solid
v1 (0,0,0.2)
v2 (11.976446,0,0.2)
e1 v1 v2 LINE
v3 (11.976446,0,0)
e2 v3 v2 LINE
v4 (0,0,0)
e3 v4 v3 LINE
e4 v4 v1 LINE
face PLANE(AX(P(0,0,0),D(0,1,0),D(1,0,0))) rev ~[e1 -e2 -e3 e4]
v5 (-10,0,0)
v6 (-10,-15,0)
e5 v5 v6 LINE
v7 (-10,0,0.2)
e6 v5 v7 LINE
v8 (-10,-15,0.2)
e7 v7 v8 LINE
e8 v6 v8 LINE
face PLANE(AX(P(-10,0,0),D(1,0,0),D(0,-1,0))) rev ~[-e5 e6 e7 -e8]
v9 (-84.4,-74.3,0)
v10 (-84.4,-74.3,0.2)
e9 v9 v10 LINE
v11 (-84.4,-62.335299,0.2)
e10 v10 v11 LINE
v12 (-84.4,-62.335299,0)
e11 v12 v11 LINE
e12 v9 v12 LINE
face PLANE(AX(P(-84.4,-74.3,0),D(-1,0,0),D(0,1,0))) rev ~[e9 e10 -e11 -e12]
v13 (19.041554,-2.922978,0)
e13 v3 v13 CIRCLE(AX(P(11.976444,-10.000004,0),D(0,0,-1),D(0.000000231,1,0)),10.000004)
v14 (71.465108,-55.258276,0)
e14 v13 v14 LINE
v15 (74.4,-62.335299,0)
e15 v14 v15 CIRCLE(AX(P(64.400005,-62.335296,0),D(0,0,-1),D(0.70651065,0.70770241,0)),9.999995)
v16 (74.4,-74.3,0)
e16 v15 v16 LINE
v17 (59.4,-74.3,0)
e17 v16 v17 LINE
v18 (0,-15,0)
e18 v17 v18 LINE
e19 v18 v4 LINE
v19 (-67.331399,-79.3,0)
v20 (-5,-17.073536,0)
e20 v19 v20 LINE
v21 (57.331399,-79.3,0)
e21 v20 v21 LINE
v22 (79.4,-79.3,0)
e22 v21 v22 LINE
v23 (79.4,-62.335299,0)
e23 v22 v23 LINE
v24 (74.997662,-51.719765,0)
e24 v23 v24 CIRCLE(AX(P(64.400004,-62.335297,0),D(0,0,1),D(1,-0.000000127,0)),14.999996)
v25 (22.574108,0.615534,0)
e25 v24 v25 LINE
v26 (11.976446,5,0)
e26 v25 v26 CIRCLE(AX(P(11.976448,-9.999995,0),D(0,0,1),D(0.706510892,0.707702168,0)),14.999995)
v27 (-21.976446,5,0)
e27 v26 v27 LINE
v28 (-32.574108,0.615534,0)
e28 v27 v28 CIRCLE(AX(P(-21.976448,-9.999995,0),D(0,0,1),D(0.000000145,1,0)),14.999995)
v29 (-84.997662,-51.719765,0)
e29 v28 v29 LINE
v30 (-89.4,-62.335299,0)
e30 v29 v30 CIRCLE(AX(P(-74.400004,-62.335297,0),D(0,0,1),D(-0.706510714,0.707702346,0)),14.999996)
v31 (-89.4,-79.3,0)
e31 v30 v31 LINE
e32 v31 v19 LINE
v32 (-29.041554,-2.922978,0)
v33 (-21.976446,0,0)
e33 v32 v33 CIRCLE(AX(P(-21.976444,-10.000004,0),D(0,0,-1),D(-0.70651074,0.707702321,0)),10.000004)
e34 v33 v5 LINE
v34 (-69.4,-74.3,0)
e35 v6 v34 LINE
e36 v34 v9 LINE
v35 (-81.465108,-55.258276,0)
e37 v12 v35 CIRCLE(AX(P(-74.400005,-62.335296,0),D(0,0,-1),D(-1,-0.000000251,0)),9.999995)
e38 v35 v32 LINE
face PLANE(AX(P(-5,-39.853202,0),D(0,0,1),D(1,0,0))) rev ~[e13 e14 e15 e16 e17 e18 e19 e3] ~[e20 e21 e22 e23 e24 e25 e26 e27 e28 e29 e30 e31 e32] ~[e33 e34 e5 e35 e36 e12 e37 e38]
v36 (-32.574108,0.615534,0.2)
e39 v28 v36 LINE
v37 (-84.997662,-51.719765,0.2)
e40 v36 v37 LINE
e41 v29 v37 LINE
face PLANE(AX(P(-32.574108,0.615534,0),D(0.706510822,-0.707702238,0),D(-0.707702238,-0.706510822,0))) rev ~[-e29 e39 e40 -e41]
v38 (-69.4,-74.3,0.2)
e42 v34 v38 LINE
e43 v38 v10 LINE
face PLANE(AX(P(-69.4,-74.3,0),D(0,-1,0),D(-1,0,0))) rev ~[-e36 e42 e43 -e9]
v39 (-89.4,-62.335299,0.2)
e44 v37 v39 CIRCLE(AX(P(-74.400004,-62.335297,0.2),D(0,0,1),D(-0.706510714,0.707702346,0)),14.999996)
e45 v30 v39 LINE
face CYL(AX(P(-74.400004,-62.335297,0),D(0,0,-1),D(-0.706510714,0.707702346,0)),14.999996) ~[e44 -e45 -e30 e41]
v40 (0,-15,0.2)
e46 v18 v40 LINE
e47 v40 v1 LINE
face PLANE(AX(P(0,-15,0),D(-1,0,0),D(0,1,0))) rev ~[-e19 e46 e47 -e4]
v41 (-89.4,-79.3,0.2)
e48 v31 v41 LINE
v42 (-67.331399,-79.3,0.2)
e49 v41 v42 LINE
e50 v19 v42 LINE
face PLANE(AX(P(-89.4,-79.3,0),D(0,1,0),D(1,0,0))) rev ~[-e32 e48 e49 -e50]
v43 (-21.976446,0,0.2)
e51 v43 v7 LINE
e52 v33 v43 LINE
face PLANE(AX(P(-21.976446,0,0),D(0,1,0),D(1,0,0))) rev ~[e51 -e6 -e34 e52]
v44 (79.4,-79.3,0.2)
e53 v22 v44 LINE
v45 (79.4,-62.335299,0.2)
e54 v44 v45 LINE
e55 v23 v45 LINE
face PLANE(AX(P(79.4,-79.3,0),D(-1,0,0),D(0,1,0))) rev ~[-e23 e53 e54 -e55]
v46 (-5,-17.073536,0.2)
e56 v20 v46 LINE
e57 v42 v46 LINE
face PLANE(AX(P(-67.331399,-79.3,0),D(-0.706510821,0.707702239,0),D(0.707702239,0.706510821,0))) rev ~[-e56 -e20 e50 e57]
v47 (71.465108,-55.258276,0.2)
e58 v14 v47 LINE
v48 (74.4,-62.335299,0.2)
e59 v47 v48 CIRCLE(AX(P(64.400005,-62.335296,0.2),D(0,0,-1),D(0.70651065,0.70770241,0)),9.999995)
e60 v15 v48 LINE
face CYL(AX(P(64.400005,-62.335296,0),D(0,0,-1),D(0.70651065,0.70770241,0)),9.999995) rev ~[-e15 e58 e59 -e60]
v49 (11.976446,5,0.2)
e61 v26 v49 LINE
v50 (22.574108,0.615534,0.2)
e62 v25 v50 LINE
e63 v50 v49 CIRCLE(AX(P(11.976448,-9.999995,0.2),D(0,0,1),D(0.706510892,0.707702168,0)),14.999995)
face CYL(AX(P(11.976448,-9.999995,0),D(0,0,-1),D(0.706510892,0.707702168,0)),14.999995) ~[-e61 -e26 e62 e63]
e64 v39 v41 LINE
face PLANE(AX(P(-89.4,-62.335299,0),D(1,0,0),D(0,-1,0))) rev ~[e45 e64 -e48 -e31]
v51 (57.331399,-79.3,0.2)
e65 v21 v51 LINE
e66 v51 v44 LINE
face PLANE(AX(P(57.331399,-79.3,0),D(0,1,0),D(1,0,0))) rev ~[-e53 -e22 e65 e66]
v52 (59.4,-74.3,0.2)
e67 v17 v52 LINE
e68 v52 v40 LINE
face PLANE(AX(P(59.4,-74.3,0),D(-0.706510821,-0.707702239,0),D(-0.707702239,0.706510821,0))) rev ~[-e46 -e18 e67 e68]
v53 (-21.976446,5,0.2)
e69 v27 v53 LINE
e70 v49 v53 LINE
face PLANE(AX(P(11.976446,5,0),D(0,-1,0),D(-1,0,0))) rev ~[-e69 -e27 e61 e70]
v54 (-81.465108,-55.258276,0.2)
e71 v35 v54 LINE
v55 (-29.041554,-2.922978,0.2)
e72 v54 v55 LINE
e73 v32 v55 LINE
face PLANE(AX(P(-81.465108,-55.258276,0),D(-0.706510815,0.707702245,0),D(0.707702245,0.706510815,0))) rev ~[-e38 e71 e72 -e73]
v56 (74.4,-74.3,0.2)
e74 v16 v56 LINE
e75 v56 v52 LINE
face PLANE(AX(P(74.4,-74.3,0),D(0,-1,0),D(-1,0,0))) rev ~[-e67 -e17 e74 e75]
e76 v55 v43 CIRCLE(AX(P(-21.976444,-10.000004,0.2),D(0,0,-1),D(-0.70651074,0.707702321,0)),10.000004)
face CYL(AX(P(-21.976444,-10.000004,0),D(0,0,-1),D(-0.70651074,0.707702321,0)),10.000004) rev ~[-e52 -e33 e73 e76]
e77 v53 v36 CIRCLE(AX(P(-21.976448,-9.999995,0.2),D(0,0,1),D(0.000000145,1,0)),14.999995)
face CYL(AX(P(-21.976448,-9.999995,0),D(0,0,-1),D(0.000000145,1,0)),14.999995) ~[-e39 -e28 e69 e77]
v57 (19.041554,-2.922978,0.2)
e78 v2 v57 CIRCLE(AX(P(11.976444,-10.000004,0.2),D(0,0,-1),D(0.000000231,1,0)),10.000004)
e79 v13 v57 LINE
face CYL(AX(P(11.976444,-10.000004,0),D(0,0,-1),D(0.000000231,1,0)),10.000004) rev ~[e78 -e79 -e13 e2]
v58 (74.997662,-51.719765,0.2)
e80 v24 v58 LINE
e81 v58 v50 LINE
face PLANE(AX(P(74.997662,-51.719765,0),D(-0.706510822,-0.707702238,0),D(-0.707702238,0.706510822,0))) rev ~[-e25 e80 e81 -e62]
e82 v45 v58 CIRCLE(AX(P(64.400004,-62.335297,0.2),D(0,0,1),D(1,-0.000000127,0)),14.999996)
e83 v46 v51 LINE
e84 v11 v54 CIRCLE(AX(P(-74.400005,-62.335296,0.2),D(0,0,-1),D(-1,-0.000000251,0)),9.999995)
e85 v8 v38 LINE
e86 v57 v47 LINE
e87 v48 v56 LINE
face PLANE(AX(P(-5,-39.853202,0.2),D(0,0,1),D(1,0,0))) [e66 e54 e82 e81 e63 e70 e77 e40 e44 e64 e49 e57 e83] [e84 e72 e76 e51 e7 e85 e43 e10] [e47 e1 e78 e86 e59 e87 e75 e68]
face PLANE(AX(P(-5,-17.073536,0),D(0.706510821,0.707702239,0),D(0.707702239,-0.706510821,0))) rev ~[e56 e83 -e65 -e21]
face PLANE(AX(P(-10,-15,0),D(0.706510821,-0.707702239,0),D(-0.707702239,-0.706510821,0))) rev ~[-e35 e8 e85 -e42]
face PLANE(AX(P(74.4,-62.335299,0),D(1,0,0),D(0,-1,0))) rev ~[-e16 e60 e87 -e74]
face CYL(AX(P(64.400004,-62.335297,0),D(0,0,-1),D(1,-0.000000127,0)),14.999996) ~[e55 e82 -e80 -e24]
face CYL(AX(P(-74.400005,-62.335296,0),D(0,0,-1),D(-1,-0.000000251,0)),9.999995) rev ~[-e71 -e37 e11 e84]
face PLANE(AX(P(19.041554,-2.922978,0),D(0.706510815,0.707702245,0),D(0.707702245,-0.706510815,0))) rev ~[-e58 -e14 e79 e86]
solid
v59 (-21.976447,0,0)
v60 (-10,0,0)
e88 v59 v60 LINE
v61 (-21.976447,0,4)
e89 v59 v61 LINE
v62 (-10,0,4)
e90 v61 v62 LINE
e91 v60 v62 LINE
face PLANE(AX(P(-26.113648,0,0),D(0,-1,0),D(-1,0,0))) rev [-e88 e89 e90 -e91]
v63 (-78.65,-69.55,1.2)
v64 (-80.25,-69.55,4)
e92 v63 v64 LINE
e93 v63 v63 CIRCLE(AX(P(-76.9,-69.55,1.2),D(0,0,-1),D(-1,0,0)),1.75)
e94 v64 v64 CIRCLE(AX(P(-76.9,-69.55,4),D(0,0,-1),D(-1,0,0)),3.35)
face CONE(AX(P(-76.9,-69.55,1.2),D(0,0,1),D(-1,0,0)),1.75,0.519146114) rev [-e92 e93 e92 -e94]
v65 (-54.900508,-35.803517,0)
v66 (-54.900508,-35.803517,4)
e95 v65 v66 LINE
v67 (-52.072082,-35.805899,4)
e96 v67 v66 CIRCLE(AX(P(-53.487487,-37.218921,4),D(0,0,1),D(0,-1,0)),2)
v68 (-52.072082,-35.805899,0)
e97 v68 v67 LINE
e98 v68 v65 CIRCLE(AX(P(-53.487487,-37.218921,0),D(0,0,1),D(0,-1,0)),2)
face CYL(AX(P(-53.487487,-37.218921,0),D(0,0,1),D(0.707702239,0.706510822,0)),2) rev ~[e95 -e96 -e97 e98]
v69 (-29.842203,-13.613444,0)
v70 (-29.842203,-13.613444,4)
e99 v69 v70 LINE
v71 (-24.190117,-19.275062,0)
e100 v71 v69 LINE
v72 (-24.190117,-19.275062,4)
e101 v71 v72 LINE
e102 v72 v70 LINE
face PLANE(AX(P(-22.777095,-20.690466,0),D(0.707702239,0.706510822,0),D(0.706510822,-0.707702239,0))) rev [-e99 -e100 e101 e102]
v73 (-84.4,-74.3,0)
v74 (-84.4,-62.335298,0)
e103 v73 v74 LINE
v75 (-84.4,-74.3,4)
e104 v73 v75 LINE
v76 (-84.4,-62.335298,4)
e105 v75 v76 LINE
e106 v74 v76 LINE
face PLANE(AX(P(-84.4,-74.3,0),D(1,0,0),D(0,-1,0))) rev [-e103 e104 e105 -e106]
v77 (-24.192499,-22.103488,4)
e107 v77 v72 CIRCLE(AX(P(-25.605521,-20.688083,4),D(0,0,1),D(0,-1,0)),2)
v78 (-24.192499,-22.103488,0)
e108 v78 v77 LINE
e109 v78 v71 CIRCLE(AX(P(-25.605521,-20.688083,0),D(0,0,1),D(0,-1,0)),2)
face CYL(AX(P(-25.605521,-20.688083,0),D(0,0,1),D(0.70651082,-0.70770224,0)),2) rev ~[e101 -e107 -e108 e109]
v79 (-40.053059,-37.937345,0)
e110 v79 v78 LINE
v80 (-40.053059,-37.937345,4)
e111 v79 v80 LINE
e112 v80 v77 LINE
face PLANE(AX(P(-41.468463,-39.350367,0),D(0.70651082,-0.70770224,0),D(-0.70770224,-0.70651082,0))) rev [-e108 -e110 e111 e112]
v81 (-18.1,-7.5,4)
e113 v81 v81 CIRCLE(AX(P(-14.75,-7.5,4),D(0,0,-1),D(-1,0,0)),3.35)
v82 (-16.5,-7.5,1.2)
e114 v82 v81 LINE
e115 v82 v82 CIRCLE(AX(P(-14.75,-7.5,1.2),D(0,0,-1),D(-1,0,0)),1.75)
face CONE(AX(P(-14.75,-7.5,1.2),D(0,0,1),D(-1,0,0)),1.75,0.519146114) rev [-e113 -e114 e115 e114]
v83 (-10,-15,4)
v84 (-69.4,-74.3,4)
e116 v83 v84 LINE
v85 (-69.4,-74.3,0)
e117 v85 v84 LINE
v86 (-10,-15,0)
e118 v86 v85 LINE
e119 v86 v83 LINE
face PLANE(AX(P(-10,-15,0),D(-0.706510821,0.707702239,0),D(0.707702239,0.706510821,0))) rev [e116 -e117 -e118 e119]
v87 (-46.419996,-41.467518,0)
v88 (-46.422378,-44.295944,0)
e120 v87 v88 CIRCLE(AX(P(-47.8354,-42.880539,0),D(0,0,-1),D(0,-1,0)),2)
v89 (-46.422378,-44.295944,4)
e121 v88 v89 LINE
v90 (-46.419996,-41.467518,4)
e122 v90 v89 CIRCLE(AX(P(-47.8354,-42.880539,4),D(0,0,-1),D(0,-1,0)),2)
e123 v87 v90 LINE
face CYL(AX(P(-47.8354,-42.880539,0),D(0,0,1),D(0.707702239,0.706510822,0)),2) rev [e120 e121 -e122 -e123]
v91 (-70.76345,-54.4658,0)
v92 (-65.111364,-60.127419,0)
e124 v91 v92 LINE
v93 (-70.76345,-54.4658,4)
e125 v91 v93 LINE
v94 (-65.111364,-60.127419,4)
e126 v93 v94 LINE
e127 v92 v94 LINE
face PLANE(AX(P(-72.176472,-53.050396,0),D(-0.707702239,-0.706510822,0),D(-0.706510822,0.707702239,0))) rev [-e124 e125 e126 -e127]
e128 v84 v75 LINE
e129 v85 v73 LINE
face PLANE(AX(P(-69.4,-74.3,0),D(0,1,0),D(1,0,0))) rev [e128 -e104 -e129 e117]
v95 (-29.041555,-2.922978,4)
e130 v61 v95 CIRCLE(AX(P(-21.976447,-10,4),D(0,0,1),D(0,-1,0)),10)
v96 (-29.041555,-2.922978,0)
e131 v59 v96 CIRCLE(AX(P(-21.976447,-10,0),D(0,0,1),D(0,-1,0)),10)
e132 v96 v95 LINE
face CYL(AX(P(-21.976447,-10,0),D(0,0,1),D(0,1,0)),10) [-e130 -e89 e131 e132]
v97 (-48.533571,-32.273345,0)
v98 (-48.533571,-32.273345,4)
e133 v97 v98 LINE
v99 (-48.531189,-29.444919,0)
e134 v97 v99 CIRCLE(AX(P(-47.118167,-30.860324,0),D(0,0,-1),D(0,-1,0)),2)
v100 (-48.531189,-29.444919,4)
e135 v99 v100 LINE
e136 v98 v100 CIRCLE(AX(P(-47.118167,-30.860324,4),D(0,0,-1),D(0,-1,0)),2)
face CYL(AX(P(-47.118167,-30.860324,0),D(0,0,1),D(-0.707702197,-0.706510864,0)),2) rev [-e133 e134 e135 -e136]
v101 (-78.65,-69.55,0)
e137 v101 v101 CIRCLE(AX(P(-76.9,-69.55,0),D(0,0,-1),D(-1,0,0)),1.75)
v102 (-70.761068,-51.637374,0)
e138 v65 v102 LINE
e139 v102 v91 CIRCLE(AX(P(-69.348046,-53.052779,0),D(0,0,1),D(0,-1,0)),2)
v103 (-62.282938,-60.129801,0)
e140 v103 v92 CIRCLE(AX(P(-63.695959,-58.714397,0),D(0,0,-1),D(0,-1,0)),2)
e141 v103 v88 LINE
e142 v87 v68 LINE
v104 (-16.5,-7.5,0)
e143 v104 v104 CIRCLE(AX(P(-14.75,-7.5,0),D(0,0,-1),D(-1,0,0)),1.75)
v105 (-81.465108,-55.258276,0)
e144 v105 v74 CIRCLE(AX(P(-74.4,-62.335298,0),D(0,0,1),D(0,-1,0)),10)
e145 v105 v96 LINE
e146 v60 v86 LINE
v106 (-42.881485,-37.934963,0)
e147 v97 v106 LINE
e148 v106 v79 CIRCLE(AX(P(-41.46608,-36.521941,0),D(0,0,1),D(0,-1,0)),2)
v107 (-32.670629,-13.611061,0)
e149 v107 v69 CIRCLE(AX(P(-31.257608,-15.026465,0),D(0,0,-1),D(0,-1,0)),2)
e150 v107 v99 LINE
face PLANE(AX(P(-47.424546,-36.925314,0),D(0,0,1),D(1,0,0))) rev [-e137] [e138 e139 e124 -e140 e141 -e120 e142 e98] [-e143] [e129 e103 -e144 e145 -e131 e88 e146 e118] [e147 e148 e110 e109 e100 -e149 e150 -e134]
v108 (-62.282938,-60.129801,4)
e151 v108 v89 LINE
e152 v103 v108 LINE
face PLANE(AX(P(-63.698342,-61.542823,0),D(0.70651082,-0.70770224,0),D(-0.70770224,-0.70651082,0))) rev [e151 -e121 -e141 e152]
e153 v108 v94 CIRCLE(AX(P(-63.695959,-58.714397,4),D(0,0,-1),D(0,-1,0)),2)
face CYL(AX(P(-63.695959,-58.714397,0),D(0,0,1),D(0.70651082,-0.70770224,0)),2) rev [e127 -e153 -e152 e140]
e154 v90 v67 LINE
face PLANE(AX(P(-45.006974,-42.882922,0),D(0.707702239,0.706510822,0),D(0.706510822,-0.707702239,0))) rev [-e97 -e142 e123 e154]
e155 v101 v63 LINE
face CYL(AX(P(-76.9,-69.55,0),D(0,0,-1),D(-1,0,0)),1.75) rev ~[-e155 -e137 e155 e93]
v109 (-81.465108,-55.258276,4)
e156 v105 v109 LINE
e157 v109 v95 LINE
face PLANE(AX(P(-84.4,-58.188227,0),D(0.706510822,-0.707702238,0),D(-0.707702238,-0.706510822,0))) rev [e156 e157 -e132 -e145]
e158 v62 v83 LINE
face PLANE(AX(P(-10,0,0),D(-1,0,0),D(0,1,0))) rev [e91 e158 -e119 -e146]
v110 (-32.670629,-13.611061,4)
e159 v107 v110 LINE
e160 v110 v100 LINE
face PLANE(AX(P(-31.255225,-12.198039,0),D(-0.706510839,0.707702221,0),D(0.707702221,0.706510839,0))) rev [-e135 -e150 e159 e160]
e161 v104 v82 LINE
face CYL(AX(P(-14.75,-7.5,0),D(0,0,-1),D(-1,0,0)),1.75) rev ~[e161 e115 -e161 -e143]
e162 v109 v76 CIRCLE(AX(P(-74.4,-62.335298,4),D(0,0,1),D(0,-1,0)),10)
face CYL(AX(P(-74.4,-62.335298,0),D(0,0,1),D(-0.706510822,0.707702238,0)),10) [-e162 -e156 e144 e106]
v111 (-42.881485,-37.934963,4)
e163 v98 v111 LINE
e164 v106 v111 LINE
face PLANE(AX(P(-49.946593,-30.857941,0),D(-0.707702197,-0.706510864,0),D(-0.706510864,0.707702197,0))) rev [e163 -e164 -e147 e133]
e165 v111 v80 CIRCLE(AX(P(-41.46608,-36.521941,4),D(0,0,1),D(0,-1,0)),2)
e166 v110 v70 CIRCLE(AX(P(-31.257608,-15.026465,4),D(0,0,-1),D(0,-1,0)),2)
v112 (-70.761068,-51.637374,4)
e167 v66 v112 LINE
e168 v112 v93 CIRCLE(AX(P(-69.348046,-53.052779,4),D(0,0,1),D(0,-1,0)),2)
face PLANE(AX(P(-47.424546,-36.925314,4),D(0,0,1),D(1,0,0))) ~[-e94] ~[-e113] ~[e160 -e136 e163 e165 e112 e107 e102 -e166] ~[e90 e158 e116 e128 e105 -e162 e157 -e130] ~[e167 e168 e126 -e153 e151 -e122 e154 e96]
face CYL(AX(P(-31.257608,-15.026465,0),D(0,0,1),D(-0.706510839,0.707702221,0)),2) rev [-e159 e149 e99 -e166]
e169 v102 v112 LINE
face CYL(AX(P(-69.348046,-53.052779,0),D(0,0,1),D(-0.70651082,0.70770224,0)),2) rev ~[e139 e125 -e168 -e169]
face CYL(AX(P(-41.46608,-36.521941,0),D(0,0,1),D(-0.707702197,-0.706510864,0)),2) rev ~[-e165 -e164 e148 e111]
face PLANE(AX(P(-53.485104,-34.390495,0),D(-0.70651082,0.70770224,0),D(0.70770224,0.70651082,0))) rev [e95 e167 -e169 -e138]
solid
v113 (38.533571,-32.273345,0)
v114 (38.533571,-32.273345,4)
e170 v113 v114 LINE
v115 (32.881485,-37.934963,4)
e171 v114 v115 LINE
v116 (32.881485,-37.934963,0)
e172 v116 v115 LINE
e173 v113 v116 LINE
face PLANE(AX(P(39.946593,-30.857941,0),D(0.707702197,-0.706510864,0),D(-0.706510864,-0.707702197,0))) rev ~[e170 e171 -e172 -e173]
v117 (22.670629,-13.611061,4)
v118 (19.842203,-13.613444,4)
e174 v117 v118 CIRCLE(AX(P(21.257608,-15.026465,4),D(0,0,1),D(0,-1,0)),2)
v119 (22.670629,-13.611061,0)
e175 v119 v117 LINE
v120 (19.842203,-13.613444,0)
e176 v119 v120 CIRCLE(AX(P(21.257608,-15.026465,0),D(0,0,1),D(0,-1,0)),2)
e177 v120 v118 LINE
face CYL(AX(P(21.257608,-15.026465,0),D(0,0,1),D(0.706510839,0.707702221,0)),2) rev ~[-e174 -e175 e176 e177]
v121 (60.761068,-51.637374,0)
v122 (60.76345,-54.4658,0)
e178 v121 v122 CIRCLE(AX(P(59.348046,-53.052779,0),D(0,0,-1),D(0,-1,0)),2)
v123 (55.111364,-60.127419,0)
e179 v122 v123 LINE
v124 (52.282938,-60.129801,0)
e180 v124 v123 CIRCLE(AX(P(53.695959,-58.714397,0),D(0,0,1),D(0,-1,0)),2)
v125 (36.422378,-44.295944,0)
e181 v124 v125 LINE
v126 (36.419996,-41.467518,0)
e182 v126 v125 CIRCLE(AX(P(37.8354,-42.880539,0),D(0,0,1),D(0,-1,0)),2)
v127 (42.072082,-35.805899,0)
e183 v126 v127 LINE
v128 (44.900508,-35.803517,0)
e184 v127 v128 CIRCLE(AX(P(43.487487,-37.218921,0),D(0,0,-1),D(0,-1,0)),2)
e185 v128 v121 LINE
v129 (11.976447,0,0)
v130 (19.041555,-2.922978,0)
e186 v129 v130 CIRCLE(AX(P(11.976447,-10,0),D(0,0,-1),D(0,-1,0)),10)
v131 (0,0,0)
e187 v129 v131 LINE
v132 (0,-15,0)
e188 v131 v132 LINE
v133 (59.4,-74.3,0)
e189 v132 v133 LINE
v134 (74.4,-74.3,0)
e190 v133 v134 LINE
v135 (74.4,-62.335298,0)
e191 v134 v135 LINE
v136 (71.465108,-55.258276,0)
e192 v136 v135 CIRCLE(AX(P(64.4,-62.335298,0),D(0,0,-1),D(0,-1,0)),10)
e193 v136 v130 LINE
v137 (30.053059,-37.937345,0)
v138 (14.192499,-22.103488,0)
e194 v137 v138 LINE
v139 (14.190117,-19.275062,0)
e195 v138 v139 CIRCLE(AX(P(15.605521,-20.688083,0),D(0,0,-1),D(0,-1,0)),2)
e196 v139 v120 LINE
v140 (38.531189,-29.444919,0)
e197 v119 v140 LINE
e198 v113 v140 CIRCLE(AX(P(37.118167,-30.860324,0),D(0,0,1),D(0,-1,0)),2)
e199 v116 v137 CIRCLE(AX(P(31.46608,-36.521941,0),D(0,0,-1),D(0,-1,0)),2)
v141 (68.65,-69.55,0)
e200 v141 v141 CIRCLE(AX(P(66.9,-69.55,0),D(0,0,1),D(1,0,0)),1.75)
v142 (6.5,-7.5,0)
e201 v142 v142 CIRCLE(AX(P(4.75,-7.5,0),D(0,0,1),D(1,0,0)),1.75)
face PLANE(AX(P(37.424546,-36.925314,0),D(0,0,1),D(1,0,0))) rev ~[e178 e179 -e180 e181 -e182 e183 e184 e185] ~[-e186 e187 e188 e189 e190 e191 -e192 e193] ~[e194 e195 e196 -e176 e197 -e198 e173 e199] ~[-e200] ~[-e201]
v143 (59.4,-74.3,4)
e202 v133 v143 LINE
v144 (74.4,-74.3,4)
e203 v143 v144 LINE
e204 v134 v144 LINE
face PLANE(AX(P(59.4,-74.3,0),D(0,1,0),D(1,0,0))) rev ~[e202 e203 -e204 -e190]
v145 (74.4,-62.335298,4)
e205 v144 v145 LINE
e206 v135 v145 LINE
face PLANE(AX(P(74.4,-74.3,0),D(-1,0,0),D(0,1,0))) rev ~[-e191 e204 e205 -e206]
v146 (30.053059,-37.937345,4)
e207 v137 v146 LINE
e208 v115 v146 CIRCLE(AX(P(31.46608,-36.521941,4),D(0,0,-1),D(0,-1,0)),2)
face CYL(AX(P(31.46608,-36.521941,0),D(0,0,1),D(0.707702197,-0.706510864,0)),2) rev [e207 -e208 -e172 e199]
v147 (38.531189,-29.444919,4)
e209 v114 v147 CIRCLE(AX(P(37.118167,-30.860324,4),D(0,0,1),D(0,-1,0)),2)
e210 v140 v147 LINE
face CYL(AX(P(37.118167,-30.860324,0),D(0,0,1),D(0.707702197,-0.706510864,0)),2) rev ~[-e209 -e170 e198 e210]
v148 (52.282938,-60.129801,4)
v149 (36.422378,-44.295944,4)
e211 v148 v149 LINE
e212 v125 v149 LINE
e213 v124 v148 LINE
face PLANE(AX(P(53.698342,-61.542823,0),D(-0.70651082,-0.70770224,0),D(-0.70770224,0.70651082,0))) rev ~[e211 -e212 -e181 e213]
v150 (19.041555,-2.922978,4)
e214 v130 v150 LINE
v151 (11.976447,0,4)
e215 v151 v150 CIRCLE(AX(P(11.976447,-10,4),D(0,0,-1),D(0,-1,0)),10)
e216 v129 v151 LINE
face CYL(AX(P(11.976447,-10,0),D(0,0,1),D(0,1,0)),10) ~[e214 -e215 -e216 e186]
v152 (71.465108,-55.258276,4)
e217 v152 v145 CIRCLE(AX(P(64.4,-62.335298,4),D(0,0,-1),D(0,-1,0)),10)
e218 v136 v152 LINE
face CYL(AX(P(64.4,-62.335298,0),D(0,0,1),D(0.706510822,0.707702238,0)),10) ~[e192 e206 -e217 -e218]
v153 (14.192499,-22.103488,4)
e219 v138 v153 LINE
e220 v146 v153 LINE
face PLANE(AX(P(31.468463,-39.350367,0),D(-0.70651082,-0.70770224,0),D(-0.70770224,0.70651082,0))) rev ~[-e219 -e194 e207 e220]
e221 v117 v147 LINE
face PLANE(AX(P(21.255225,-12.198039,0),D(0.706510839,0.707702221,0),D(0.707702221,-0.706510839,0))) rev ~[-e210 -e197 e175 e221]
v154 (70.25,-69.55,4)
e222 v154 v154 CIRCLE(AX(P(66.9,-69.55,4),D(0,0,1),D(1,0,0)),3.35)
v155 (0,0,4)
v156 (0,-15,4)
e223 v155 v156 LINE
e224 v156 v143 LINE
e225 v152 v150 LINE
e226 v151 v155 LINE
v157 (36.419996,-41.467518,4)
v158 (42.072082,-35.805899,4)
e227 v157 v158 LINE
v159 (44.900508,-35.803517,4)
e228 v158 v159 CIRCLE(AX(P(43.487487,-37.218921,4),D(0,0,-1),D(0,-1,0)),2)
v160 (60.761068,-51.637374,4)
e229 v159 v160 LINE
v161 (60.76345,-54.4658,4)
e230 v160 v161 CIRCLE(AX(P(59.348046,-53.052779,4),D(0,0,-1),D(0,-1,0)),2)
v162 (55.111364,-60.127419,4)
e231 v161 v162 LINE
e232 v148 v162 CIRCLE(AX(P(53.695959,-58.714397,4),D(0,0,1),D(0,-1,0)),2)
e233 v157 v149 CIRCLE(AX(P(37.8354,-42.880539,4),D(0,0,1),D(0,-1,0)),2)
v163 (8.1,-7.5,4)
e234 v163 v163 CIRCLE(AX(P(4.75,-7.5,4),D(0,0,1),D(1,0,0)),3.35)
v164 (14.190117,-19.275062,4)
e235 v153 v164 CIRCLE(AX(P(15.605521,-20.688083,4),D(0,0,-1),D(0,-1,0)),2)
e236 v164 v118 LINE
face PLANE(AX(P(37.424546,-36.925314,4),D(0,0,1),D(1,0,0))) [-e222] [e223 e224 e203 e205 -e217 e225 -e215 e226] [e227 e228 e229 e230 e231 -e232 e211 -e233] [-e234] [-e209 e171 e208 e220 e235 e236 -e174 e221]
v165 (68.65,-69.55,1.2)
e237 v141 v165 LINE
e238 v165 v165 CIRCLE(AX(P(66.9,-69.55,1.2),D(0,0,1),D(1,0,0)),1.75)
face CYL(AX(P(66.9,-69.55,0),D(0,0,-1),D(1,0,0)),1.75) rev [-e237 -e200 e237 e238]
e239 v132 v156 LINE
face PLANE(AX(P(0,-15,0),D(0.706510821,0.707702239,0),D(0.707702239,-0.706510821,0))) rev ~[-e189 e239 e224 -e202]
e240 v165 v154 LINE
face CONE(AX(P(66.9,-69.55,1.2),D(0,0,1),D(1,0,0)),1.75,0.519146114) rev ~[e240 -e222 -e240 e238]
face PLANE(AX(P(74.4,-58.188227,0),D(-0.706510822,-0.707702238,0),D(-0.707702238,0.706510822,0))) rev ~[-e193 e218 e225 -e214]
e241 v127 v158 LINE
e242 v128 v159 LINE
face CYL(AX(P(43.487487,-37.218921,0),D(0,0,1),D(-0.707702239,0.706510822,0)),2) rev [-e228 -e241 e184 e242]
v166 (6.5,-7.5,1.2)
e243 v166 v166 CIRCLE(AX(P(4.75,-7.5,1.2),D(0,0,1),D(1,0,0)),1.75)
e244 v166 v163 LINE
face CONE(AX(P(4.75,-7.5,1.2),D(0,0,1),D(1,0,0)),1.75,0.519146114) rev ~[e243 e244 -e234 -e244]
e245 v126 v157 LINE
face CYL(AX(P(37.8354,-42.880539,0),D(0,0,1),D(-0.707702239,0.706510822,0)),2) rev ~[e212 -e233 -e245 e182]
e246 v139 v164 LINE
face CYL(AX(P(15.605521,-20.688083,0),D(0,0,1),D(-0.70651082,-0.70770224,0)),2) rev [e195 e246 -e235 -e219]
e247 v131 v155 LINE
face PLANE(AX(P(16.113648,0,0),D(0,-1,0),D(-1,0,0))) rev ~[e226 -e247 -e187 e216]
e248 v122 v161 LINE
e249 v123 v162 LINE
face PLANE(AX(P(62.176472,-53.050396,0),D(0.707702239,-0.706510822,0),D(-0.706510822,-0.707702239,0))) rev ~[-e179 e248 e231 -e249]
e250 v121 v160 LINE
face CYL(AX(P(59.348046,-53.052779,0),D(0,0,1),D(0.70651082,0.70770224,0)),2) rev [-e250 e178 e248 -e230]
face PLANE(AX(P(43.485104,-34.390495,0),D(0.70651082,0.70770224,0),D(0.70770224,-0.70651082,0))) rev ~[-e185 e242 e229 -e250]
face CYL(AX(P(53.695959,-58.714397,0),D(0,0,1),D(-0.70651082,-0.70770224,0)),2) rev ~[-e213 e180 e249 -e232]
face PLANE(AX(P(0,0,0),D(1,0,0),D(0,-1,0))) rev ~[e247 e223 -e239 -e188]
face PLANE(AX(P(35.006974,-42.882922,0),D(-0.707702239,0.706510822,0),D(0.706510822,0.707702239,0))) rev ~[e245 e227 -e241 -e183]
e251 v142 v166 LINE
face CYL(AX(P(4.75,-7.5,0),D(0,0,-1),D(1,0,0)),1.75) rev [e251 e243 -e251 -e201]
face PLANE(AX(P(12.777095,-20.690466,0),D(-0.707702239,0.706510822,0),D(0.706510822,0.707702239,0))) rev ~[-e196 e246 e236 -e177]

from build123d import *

# Parameters (mm, degrees)
F0_R     = 1.75
F1_DEPTH = 4
F2_R     = 10
F3_R     = 2
F4_SIZE2 = 1.6
F4_SIZE  = 2.8
F8_DEPTH = 0.2


with BuildPart() as f1:
    # F0 (on Top) → F1 (new body)
    with BuildSketch(Plane.XY):
        Polygon((16.113648, 0), (0, 0), (0, -15), (59.4, -74.3), (74.4, -74.3), (74.4, -58.188227), align=None)
        with Locations((66.9, -69.55)):
            Circle(F0_R, mode=Mode.SUBTRACT)
        Polygon((43.485104, -34.390495), (62.176472, -53.050396), (53.698342, -61.542823), (35.006974, -42.882922), align=None, mode=Mode.SUBTRACT)
        Polygon((31.468463, -39.350367), (12.777095, -20.690466), (21.255225, -12.198039), (39.946593, -30.857941), align=None, mode=Mode.SUBTRACT)
        with Locations((4.75, -7.5)):
            Circle(F0_R, mode=Mode.SUBTRACT)
    extrude(amount=F1_DEPTH)

    # F2
    f2_edges = [f1.edges().sort_by_distance(p)[0] for p in [
        (16.113648, 0, 2),
        (74.4, -58.188227, 2),
    ]]
    fillet(f2_edges, radius=F2_R)

    # F3
    f3_edges = [f1.edges().sort_by_distance(p)[0] for p in [
        (21.255225, -12.198039, 2),
        (12.777095, -20.690466, 2),
        (39.946593, -30.857941, 2),
        (31.468463, -39.350367, 2),
        (53.698342, -61.542823, 2),
        (62.176472, -53.050396, 2),
        (43.485104, -34.390495, 2),
        (35.006974, -42.882922, 2),
    ]]
    fillet(f3_edges, radius=F3_R)

    # F4
    f4_edges = [f1.edges().sort_by_distance(p)[0] for p in [
        (3, -7.5, 4),
        (65.15, -69.55, 4),
    ]]
    chamfer(f4_edges, length=F4_SIZE, length2=F4_SIZE2)


with BuildPart() as f6_1:
    # F6: instance of F1
    add(f1.part.mirror(Plane.YZ.offset(-5)))


with BuildPart() as f8:
    # F7 (on Top) → F8 (new body)
    with BuildSketch(Plane.XY):
        with BuildLine():
            Line((-32.574108, 0.615534), (-84.997662, -51.719765))
            ThreePointArc((-84.997662, -51.719765), (-88.255774, -56.58921), (-89.4, -62.335299))
            Line((-89.4, -62.335299), (-89.4, -79.3))
            Line((-89.4, -79.3), (-67.331399, -79.3))
            Line((-67.331399, -79.3), (-5, -17.073536))
            Line((-5, -17.073536), (57.331399, -79.3))
            Line((57.331399, -79.3), (79.4, -79.3))
            Line((79.4, -79.3), (79.4, -62.335299))
            ThreePointArc((79.4, -62.335299), (78.255774, -56.58921), (74.997662, -51.719765))
            Line((74.997662, -51.719765), (22.574108, 0.615534))
            ThreePointArc((22.574108, 0.615534), (17.71086, 3.86061), (11.976446, 5))
            Line((11.976446, 5), (-21.976446, 5))
            ThreePointArc((-21.976446, 5), (-27.71086, 3.86061), (-32.574108, 0.615534))
        make_face()
        with BuildLine():
            Line((-69.4, -74.3), (-84.4, -74.3))
            Line((-84.4, -74.3), (-84.4, -62.335299))
            ThreePointArc((-84.4, -62.335299), (-83.637183, -58.504573), (-81.465108, -55.258276))
            Line((-81.465108, -55.258276), (-29.041554, -2.922978))
            ThreePointArc((-29.041554, -2.922978), (-25.799388, -0.759594), (-21.976446, 0))
            Line((-21.976446, 0), (-10, 0))
            Line((-10, 0), (-10, -15))
            Line((-10, -15), (-69.4, -74.3))
        make_face(mode=Mode.SUBTRACT)
        with BuildLine():
            Line((0, -15), (0, 0))
            Line((0, 0), (11.976446, 0))
            ThreePointArc((11.976446, 0), (15.799388, -0.759594), (19.041554, -2.922978))
            Line((19.041554, -2.922978), (71.465108, -55.258276))
            ThreePointArc((71.465108, -55.258276), (73.637183, -58.504573), (74.4, -62.335299))
            Line((74.4, -62.335299), (74.4, -74.3))
            Line((74.4, -74.3), (59.4, -74.3))
            Line((59.4, -74.3), (0, -15))
        make_face(mode=Mode.SUBTRACT)
    extrude(amount=F8_DEPTH)


solid = Compound([f1.part, f6_1.part, f8.part])
